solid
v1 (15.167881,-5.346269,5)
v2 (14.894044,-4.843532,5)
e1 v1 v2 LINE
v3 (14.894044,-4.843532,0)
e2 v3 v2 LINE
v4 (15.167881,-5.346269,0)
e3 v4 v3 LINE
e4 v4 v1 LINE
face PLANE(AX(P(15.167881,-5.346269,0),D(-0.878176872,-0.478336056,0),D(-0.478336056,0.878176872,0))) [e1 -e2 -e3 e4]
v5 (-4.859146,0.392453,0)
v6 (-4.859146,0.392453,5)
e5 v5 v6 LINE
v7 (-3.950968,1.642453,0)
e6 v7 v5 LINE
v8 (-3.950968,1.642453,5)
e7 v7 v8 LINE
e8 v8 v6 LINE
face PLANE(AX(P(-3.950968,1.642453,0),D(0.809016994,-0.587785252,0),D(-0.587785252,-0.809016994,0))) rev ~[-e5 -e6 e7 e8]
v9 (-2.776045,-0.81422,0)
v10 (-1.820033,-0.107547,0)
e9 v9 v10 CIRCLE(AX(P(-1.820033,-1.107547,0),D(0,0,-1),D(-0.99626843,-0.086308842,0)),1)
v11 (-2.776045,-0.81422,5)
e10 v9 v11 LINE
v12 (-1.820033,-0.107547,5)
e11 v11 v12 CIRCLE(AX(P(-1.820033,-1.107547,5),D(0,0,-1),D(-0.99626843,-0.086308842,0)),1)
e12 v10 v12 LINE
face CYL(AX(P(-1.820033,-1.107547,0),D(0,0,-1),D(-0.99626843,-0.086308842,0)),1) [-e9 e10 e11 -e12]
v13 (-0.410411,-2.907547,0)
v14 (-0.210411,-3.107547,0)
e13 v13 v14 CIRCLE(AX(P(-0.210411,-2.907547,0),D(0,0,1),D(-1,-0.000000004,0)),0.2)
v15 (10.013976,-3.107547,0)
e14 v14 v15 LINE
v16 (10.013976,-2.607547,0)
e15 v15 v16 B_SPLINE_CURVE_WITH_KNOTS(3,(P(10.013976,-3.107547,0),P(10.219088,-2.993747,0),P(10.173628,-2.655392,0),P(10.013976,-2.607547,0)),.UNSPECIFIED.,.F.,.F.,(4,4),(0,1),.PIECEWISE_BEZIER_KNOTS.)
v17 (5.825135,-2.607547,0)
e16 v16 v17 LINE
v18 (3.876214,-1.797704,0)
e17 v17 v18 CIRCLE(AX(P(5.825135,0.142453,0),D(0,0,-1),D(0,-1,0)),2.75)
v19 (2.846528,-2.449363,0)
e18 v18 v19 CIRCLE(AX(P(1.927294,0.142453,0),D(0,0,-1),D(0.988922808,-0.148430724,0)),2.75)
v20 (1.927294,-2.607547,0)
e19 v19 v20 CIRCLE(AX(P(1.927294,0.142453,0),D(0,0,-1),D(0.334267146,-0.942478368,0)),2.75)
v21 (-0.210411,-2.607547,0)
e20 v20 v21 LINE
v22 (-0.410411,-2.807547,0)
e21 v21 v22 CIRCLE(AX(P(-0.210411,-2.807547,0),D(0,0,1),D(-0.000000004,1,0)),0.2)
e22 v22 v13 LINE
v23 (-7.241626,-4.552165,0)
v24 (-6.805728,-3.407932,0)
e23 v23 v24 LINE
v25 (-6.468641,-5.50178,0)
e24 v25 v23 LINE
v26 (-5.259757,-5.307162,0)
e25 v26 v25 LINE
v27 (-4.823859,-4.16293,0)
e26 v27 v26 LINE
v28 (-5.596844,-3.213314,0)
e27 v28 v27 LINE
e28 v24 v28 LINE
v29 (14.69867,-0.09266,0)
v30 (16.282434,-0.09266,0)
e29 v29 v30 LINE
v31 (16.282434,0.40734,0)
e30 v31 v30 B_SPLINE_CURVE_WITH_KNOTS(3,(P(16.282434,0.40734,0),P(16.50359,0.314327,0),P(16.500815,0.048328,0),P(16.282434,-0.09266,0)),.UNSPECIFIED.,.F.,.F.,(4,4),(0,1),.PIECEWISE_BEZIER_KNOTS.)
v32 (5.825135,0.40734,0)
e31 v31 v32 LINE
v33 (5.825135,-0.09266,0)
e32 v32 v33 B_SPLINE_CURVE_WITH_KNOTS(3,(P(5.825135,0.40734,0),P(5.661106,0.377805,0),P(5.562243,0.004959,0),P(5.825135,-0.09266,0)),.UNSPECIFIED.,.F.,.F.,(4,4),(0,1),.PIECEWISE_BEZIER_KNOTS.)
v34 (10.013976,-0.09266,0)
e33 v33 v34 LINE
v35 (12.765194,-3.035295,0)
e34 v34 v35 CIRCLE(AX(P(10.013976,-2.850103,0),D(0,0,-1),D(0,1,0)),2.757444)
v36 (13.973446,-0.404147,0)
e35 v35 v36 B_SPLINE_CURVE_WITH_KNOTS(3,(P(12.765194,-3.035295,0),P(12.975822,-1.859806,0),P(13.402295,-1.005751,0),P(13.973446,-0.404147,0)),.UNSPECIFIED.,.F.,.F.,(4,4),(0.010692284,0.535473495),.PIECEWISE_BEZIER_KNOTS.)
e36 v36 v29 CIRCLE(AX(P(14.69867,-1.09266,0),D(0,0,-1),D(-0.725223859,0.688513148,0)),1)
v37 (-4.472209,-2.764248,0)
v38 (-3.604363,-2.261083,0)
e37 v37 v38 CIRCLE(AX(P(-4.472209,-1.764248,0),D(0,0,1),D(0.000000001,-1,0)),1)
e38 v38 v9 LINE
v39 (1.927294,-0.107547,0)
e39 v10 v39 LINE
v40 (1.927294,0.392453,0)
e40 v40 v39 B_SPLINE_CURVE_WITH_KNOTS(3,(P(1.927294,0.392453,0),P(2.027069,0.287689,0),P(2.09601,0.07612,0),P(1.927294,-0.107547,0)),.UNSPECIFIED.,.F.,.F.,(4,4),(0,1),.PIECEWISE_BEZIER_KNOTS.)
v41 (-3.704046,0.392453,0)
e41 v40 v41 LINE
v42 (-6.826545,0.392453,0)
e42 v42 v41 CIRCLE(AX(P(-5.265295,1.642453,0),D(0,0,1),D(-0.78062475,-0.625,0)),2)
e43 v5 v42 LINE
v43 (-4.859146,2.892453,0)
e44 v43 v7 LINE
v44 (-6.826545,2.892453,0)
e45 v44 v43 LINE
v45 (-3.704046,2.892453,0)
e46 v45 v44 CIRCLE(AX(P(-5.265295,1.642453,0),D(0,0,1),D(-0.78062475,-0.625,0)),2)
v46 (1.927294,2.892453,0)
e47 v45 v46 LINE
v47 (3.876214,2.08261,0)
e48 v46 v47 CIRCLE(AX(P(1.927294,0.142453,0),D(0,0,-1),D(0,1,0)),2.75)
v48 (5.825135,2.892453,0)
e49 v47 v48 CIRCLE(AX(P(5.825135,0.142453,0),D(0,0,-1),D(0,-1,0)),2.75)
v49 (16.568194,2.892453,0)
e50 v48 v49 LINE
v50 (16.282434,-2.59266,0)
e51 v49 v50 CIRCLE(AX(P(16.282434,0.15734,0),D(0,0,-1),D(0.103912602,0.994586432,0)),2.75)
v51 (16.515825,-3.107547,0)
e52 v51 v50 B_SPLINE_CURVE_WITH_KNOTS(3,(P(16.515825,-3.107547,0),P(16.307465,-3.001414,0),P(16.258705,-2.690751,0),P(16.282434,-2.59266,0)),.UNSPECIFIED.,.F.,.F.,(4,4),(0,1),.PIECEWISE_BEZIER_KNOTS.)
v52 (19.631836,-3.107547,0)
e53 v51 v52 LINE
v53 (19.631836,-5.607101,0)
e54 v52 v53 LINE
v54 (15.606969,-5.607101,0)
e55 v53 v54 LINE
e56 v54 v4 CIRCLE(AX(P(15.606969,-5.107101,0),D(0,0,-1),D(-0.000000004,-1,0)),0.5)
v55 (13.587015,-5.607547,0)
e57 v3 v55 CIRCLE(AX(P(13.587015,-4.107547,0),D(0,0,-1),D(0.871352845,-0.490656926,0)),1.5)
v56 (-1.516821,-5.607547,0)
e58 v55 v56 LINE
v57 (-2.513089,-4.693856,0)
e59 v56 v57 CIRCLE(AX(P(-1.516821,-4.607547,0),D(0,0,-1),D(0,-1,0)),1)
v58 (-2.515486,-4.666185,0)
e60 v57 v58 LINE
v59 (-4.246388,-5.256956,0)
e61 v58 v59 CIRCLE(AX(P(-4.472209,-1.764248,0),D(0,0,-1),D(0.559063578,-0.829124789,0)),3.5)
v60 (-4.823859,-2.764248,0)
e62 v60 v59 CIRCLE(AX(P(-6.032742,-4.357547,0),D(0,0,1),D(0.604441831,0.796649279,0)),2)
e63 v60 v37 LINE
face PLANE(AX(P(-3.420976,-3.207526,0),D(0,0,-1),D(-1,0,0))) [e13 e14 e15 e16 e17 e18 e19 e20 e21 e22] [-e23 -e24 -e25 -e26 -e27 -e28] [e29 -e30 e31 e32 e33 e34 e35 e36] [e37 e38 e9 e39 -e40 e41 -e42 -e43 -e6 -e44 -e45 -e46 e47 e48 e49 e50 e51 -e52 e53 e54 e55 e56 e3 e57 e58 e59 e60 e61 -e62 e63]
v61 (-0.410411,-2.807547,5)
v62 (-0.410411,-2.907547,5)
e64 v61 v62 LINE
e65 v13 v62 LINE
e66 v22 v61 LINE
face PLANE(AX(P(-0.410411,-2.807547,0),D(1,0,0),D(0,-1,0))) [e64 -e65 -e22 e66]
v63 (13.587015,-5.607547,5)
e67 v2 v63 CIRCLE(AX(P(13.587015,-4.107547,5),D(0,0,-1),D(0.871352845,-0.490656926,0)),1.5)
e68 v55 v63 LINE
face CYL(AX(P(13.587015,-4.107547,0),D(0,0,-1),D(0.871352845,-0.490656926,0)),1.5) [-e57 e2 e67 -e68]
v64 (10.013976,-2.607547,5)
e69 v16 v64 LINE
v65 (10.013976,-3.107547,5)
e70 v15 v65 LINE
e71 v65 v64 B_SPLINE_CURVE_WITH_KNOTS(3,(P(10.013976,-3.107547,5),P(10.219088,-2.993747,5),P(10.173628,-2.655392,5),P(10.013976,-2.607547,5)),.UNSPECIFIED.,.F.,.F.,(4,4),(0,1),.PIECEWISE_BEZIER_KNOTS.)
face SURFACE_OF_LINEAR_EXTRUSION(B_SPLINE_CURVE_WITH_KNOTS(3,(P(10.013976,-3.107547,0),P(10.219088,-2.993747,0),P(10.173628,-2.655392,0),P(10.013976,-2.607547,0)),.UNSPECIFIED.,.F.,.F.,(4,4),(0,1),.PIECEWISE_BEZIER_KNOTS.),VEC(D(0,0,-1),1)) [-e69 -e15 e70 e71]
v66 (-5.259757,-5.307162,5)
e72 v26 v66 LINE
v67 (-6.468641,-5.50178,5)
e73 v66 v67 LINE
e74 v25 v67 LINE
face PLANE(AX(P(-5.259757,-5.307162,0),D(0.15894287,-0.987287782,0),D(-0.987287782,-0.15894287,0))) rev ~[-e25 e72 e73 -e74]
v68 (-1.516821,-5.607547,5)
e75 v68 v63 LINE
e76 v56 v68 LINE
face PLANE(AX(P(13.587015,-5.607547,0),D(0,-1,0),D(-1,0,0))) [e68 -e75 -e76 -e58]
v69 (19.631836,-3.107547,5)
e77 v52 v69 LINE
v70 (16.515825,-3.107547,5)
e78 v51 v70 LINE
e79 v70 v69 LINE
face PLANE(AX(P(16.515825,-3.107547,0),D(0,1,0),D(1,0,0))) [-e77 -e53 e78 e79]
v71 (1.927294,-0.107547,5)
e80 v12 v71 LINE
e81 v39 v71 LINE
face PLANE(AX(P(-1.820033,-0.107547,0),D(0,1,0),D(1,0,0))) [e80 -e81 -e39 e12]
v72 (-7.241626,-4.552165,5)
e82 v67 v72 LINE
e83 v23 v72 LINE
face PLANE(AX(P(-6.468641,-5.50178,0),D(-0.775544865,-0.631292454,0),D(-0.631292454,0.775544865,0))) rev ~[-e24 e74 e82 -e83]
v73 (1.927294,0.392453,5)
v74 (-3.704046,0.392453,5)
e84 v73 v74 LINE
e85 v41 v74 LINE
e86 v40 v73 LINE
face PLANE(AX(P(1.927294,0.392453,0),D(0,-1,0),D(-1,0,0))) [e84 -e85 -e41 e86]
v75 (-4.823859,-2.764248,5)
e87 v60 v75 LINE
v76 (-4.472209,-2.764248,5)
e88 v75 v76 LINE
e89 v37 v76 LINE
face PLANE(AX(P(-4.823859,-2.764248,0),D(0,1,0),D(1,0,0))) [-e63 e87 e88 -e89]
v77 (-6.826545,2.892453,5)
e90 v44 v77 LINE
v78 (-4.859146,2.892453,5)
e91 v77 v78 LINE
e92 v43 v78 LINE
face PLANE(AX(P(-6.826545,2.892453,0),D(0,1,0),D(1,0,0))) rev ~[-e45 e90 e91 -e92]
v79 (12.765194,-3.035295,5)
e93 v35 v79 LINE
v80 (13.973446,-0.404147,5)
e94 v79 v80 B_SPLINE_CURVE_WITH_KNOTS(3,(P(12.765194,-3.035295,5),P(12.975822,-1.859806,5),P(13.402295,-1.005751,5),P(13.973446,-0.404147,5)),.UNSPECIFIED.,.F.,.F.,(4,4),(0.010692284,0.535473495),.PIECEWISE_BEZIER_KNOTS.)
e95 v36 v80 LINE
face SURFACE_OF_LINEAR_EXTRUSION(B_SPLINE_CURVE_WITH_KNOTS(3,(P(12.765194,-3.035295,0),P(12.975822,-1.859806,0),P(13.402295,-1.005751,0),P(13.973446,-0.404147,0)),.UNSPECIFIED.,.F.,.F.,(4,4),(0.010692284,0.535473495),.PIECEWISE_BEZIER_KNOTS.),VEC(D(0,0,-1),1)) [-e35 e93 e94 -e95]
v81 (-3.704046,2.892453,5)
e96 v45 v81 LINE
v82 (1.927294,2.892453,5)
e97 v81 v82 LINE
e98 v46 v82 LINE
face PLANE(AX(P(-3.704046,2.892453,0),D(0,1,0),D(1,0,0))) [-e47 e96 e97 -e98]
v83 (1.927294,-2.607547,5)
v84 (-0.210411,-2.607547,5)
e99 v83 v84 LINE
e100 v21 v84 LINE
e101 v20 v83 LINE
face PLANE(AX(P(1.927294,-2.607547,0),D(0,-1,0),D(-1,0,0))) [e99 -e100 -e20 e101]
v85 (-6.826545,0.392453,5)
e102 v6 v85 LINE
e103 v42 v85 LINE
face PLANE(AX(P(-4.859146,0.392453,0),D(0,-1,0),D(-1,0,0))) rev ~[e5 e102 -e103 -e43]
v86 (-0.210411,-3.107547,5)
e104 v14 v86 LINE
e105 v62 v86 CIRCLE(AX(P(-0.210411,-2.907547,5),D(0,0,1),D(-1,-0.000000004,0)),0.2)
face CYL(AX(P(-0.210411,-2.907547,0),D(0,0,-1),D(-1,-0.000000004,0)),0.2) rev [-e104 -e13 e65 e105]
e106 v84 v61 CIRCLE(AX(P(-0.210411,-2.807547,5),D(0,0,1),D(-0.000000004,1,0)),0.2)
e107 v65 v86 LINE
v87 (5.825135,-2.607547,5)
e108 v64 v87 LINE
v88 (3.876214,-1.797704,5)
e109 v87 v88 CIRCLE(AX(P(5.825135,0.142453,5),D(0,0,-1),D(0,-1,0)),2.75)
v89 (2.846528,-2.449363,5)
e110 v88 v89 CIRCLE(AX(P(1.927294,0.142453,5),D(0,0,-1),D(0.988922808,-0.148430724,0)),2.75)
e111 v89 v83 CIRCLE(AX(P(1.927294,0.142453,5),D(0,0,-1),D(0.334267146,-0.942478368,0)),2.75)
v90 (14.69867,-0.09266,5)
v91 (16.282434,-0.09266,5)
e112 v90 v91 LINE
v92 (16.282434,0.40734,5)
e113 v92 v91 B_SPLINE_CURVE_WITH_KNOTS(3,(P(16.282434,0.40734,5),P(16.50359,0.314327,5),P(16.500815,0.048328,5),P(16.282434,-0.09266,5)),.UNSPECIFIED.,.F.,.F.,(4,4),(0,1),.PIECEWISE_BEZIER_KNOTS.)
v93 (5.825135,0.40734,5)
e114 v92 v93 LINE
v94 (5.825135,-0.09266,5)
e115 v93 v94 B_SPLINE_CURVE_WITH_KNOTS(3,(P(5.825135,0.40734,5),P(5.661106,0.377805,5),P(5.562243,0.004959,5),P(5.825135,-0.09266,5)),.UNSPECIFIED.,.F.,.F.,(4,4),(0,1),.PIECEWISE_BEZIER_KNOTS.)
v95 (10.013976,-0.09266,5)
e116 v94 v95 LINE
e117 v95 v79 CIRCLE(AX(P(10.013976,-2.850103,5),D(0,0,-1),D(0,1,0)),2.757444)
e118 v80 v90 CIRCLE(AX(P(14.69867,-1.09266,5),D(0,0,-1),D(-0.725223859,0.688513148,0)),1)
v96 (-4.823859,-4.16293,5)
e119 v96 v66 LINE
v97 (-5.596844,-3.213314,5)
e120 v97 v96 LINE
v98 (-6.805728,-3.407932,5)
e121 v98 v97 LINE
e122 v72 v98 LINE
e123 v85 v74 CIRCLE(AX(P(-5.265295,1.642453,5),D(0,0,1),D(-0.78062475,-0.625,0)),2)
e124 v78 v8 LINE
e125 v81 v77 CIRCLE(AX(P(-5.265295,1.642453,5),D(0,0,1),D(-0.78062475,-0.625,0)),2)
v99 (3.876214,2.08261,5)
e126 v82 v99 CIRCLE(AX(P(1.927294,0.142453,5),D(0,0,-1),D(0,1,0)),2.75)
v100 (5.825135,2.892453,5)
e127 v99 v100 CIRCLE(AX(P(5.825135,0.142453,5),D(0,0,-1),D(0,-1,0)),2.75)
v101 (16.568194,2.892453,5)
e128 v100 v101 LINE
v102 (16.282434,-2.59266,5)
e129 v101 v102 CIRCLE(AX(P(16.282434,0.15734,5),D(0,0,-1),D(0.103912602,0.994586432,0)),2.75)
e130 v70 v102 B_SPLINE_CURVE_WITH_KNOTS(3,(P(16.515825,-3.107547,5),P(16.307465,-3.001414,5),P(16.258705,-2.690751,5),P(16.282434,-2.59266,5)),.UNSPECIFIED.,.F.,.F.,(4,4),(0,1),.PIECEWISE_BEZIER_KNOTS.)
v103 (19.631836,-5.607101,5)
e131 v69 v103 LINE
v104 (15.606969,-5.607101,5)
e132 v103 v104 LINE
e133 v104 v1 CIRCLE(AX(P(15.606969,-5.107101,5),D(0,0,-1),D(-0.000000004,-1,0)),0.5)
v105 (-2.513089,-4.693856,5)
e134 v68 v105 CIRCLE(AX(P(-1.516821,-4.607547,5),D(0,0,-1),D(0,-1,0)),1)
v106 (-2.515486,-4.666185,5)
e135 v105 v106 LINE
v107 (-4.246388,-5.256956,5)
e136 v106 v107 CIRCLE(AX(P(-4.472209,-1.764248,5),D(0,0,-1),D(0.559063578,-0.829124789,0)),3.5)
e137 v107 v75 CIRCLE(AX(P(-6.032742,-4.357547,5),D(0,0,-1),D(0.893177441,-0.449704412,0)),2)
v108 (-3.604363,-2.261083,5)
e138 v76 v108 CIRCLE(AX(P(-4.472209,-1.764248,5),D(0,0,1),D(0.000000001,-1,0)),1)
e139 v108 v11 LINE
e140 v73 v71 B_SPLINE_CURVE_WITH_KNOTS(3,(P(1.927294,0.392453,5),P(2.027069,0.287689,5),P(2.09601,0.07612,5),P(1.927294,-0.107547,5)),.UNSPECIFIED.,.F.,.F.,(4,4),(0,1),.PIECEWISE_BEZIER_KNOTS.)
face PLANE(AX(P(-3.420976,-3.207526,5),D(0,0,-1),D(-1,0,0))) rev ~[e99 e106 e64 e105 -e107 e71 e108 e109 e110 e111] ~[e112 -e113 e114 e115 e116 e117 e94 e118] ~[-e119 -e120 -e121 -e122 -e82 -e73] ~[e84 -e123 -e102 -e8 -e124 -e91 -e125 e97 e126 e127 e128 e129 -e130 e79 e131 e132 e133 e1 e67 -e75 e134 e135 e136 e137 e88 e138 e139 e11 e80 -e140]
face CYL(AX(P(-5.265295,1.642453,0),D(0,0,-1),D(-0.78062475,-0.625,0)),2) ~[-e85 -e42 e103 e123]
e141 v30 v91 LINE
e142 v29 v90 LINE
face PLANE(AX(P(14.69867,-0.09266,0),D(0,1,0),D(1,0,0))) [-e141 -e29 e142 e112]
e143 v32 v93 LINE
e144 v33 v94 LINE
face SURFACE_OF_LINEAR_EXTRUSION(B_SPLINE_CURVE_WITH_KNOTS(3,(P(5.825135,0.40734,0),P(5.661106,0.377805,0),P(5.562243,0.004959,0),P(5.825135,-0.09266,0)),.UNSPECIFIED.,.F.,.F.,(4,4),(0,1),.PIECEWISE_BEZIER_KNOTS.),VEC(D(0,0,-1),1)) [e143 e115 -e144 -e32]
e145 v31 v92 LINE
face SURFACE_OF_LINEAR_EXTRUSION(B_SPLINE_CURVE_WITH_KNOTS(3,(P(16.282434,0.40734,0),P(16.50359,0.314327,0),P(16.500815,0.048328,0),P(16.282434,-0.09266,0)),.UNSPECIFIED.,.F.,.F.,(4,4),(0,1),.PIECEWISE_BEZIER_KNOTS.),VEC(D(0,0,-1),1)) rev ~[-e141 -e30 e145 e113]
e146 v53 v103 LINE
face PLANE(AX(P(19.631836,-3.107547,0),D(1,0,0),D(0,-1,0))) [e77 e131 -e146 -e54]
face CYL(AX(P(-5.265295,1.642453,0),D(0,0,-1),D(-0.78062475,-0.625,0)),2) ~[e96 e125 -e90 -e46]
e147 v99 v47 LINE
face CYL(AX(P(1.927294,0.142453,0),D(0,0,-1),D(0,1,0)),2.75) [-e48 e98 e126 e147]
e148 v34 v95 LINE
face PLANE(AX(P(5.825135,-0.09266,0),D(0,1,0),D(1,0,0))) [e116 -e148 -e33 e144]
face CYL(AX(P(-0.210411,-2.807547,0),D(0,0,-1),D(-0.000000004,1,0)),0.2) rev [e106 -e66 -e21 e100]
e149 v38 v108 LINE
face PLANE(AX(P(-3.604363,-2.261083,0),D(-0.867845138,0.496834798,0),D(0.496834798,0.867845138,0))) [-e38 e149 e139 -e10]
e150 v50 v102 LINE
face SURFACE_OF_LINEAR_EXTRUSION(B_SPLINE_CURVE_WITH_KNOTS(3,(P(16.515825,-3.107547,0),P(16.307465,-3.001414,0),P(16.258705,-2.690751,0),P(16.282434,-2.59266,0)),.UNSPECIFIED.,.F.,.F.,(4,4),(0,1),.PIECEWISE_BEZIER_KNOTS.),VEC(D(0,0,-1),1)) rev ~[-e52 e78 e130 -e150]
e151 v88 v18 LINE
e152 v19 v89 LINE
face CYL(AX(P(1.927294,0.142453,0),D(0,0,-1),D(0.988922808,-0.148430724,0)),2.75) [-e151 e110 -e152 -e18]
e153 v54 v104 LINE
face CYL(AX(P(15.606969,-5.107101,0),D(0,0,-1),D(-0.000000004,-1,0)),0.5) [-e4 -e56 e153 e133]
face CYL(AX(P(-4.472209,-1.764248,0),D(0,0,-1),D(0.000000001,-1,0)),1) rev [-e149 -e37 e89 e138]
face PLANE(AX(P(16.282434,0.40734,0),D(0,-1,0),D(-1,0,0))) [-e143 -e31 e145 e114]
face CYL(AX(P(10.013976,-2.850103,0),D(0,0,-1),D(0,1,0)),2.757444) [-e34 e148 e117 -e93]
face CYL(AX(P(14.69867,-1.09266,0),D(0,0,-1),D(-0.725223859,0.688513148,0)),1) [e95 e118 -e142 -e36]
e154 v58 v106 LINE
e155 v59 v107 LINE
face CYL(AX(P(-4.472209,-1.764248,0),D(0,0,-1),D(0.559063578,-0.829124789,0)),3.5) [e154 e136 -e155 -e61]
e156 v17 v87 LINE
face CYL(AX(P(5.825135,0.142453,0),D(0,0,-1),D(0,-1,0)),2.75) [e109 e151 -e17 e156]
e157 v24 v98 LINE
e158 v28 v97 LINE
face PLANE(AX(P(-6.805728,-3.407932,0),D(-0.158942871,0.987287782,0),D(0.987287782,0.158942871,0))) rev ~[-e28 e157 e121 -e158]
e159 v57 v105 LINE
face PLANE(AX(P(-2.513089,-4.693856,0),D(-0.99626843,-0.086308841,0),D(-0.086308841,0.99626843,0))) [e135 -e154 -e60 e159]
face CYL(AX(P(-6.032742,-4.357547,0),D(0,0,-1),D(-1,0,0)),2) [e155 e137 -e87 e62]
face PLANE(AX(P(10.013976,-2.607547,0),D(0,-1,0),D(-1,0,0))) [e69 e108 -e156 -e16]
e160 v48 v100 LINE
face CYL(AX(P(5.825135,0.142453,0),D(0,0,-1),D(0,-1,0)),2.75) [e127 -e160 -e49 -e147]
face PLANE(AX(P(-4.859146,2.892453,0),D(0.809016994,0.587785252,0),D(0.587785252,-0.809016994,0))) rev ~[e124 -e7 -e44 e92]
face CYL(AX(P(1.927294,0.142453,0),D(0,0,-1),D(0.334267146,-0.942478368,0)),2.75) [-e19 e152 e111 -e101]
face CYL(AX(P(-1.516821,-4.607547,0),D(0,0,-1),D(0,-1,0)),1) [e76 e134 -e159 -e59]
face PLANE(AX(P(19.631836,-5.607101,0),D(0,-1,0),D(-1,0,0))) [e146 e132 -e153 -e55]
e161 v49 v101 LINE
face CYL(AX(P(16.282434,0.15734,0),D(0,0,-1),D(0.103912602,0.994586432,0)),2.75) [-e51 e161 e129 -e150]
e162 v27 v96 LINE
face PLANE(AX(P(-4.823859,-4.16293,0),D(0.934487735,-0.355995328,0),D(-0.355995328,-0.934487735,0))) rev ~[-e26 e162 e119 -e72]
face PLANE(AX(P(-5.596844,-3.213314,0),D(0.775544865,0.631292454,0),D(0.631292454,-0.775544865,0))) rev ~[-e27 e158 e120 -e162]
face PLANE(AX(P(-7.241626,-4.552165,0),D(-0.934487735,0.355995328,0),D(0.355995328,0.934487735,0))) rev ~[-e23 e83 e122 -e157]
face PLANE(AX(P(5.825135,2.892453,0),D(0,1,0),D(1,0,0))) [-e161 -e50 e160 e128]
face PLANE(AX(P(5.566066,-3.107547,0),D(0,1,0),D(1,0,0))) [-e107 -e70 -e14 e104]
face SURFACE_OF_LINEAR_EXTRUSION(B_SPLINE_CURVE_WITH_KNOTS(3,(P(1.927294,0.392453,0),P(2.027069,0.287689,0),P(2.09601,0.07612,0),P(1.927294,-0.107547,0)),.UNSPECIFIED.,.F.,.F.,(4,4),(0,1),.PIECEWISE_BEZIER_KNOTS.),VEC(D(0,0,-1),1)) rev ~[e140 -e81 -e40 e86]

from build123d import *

# Parameters (mm, degrees)
BOSS_EXTRUDE1_DEPTH = 5
BOSS_EXTRUDE2_DEPTH = 5
BOSS_EXTRUDE4_DEPTH = 5
BOSS_EXTRUDE6_DEPTH = 5
SKETCH9_R           = 2
BOSS_EXTRUDE7_DEPTH = 5


with BuildPart() as part:
    # Sketch1 → Boss-Extrude1 (new body)
    with BuildSketch(Plane.XY):
        with BuildLine():
            Line((-4.859145774, 0.392452951), (-6.826544894, 0.392452951))
            ThreePointArc((-6.826544894, 0.392452951), (-3.265295394, 1.642452951), (-6.826544894, 2.892452951))
            Line((-6.826544894, 2.892452951), (-4.859145774, 2.892452951))
            Line((-4.859145774, 2.892452951), (-3.950967614, 1.642452951))
            Line((-3.950967614, 1.642452951), (-4.859145774, 0.392452951))
        make_face()
    extrude(amount=BOSS_EXTRUDE1_DEPTH)

    # Sketch2 → Boss-Extrude2 (add)
    with BuildSketch(Plane(origin=(0, 0, 0), x_dir=(-1, 0, 0), z_dir=(0, 0, -1))):
        with BuildLine():
            ThreePointArc((3.704045895, 0.392452951), (3.265295394, 1.642452951), (3.704045895, 2.892452951))
            Line((3.704045895, 2.892452951), (-1.927293689, 2.892452951))
            Line((-1.927293689, 2.892452951), (-1.927293689, 0.392452951))
            Line((-1.927293689, 0.392452951), (3.704045895, 0.392452951))
        make_face()
    extrude(amount=-BOSS_EXTRUDE2_DEPTH)

    # Sketch7 → Boss-Extrude4 (add)
    with BuildSketch(Plane(origin=(0, 0, 0), x_dir=(-1, 0, 0), z_dir=(0, 0, -1))):
        with BuildLine():
            ThreePointArc((-1.927293689, 2.892452951), (-4.011161168, 1.936887773), (-4.646831412, -0.265731537))
            ThreePointArc((-4.646831412, -0.265731537), (-4.049138928, -1.606910585), (-2.846528345, -2.449362561))
            ThreePointArc((-2.846528345, -2.449362561), (-2.393666578, -2.567712418), (-1.927293689, -2.607547049))
            Line((-1.927293689, -2.607547049), (-1.927293689, -0.107547049))
            add(Edge.make_bspline(
                [(-1.927293689, 0.392452951), (-2.027068627, 0.287688693), (-2.096009728, 0.076120474), (-1.927293689, -0.107547049)],
                knots=[0, 0, 0, 0, 1, 1, 1, 1], degree=3))
            Line((-1.927293689, 0.392452951), (-1.927293689, 2.892452951))
        make_face()
        with BuildLine():
            Line((-1.927293689, -0.107547049), (-1.927293689, -2.607547049))
            ThreePointArc((-1.927293689, -2.607547049), (-0.073244067, -1.88855665), (0.811319098, -0.107547049))
            Line((0.811319098, -0.107547049), (-1.927293689, -0.107547049))
        make_face()
        with BuildLine():
            Line((-5.566066067, -5.607547049), (1.516820501, -5.607547049))
            ThreePointArc((1.516820501, -5.607547049), (2.192724029, -5.344537158), (2.51308893, -4.69385589))
            Line((2.51308893, -4.69385589), (2.816301333, -1.19385589))
            ThreePointArc((2.816301333, -1.19385589), (2.557023013, -0.431643521), (1.820032904, -0.107547049))
            Line((1.820032904, -0.107547049), (0.811319098, -0.107547049))
            ThreePointArc((0.811319098, -0.107547049), (-0.073244067, -1.88855665), (-1.927293689, -2.607547049))
            Line((-1.927293689, -2.607547049), (0.210410566, -2.607547049))
            ThreePointArc((0.210410566, -2.607547049), (0.351831922, -2.666125693), (0.410410566, -2.807547049))
            Line((0.410410566, -2.807547049), (0.410410566, -2.907547049))
            ThreePointArc((0.410410566, -2.907547049), (0.351831922, -3.048968405), (0.210410566, -3.107547049))
            Line((0.210410566, -3.107547049), (-2.82745328, -3.107547049))
            Line((-2.82745328, -3.107547049), (-5.566066067, -3.107547049))
            Line((-5.566066067, -3.107547049), (-5.566066067, -5.607547049))
        make_face()
    extrude(amount=-BOSS_EXTRUDE4_DEPTH)

    # Sketch8 → Boss-Extrude6 (add)
    with BuildSketch(Plane(origin=(0, 0, 0), x_dir=(-1, 0, 0), z_dir=(0, 0, -1))):
        with BuildLine():
            Line((-10.013976401, -2.607547049), (-5.825134583, -2.607547049))
            ThreePointArc((-5.825134583, -2.607547049), (-3.075134583, 0.142452951), (-5.825134583, 2.892452951))
            Line((-5.825134583, 2.892452951), (-16.568194085, 2.892452951))
            ThreePointArc((-16.568194085, 2.892452951), (-19.02871008, 0.014266669), (-16.282434429, -2.592659737))
            add(Edge.make_bspline(
                [(-16.515824565, -3.107547049), (-16.307464717, -3.001414127), (-16.25870467, -2.690751367), (-16.282434429, -2.592659737)],
                knots=[0, 0, 0, 0, 1, 1, 1, 1], degree=3))
            Line((-16.515824565, -3.107547049), (-19.631835761, -3.107547049))
            Line((-19.631835761, -3.107547049), (-19.631835761, -5.607101349))
            Line((-19.631835761, -5.607101349), (-16.213002559, -5.607101349))
            Line((-16.213002559, -5.607101349), (-15.606969091, -5.607101349))
            ThreePointArc((-15.606969091, -5.607101349), (-15.351610534, -5.536975757), (-15.167880656, -5.346269377))
            Line((-15.167880656, -5.346269377), (-14.894043788, -4.843532439))
            ThreePointArc((-14.894043788, -4.843532439), (-14.343989393, -5.402533166), (-13.587014521, -5.607547049))
            Line((-13.587014521, -5.607547049), (-12.513976401, -5.607547049))
            Line((-12.513976401, -5.607547049), (-10.013976401, -5.607547049))
            Line((-10.013976401, -5.607547049), (-5.566066067, -5.607547049))
            Line((-5.566066067, -5.607547049), (-5.566066067, -3.107547049))
            Line((-5.566066067, -3.107547049), (-10.013976401, -3.107547049))
            add(Edge.make_bspline(
                [(-10.013976401, -3.107547049), (-10.219087549, -2.993746895), (-10.173628104, -2.655391711), (-10.013976401, -2.607547049)],
                knots=[0, 0, 0, 0, 1, 1, 1, 1], degree=3))
        make_face()
        with BuildLine():
            ThreePointArc((-10.013976401, -0.092659737), (-12.028194826, -0.96690939), (-12.765194219, -3.035295286))
            add(Edge.make_bspline(
                [(-12.765194219, -3.035295286), (-12.975821702, -1.859806275), (-13.402295233, -1.005750906), (-13.973446446, -0.404146587)],
                knots=[0.010692284, 0.010692284, 0.010692284, 0.010692284, 0.535473495, 0.535473495, 0.535473495, 0.535473495], degree=3))
            ThreePointArc((-13.973446446, -0.404146587), (-14.304026887, -0.17382538), (-14.698670302, -0.092659737))
            Line((-14.698670302, -0.092659737), (-16.282434429, -0.092659737))
            add(Edge.make_bspline(
                [(-16.282434429, 0.407340263), (-16.503590414, 0.314326842), (-16.500815382, 0.048327648), (-16.282434429, -0.092659737)],
                knots=[0, 0, 0, 0, 1, 1, 1, 1], degree=3))
            Line((-16.282434429, 0.407340263), (-8.563747371, 0.407340263))
            Line((-8.563747371, 0.407340263), (-5.825134583, 0.407340263))
            add(Edge.make_bspline(
                [(-5.825134583, 0.407340263), (-5.661105782, 0.377805029), (-5.562243404, 0.004958528), (-5.825134583, -0.092659737)],
                knots=[0, 0, 0, 0, 1, 1, 1, 1], degree=3))
            Line((-5.825134583, -0.092659737), (-10.013976401, -0.092659737))
        make_face(mode=Mode.SUBTRACT)
    extrude(amount=-BOSS_EXTRUDE6_DEPTH)

    # Sketch9 → Boss-Extrude7 (add)
    # profile 1 of 2: a face of its own
    with BuildSketch(Plane(origin=(0, 0, 0), x_dir=(-1, 0, 0), z_dir=(0, 0, -1))):
        with BuildLine():
            ThreePointArc((4.246387568, -5.256955873), (4.08434285, -3.906172489), (4.823858789, -2.764248492))
            Line((4.823858789, -2.764248492), (4.472208625, -2.764248492))
            ThreePointArc((4.472208625, -2.764248492), (3.970628521, -2.629359698), (3.604363487, -2.26108329))
            Line((3.604363487, -2.26108329), (2.776044941, -0.814219613))
            ThreePointArc((2.776044941, -0.814219613), (2.814457703, -1.002098868), (2.816301333, -1.19385589))
            Line((2.816301333, -1.19385589), (2.515486097, -4.66618525))
            ThreePointArc((2.515486097, -4.66618525), (3.341666009, -5.076630322), (4.246387568, -5.256955873))
        make_face()
    # profile 2 of 2: a face of its own
    with BuildSketch(Plane(origin=(0, 0, 0), x_dir=(-1, 0, 0), z_dir=(0, 0, -1))):
        with Locations((6.032742451, -4.357547049)):
            Circle(SKETCH9_R)
        Polygon((6.805727945, -3.407931817), (5.596844283, -3.213314358), (4.823858789, -4.16292959), (5.259756957, -5.307162281), (6.468640619, -5.501779739), (7.241626113, -4.552164507), align=None, mode=Mode.SUBTRACT)
    extrude(amount=-BOSS_EXTRUDE7_DEPTH)


solid = part.part
